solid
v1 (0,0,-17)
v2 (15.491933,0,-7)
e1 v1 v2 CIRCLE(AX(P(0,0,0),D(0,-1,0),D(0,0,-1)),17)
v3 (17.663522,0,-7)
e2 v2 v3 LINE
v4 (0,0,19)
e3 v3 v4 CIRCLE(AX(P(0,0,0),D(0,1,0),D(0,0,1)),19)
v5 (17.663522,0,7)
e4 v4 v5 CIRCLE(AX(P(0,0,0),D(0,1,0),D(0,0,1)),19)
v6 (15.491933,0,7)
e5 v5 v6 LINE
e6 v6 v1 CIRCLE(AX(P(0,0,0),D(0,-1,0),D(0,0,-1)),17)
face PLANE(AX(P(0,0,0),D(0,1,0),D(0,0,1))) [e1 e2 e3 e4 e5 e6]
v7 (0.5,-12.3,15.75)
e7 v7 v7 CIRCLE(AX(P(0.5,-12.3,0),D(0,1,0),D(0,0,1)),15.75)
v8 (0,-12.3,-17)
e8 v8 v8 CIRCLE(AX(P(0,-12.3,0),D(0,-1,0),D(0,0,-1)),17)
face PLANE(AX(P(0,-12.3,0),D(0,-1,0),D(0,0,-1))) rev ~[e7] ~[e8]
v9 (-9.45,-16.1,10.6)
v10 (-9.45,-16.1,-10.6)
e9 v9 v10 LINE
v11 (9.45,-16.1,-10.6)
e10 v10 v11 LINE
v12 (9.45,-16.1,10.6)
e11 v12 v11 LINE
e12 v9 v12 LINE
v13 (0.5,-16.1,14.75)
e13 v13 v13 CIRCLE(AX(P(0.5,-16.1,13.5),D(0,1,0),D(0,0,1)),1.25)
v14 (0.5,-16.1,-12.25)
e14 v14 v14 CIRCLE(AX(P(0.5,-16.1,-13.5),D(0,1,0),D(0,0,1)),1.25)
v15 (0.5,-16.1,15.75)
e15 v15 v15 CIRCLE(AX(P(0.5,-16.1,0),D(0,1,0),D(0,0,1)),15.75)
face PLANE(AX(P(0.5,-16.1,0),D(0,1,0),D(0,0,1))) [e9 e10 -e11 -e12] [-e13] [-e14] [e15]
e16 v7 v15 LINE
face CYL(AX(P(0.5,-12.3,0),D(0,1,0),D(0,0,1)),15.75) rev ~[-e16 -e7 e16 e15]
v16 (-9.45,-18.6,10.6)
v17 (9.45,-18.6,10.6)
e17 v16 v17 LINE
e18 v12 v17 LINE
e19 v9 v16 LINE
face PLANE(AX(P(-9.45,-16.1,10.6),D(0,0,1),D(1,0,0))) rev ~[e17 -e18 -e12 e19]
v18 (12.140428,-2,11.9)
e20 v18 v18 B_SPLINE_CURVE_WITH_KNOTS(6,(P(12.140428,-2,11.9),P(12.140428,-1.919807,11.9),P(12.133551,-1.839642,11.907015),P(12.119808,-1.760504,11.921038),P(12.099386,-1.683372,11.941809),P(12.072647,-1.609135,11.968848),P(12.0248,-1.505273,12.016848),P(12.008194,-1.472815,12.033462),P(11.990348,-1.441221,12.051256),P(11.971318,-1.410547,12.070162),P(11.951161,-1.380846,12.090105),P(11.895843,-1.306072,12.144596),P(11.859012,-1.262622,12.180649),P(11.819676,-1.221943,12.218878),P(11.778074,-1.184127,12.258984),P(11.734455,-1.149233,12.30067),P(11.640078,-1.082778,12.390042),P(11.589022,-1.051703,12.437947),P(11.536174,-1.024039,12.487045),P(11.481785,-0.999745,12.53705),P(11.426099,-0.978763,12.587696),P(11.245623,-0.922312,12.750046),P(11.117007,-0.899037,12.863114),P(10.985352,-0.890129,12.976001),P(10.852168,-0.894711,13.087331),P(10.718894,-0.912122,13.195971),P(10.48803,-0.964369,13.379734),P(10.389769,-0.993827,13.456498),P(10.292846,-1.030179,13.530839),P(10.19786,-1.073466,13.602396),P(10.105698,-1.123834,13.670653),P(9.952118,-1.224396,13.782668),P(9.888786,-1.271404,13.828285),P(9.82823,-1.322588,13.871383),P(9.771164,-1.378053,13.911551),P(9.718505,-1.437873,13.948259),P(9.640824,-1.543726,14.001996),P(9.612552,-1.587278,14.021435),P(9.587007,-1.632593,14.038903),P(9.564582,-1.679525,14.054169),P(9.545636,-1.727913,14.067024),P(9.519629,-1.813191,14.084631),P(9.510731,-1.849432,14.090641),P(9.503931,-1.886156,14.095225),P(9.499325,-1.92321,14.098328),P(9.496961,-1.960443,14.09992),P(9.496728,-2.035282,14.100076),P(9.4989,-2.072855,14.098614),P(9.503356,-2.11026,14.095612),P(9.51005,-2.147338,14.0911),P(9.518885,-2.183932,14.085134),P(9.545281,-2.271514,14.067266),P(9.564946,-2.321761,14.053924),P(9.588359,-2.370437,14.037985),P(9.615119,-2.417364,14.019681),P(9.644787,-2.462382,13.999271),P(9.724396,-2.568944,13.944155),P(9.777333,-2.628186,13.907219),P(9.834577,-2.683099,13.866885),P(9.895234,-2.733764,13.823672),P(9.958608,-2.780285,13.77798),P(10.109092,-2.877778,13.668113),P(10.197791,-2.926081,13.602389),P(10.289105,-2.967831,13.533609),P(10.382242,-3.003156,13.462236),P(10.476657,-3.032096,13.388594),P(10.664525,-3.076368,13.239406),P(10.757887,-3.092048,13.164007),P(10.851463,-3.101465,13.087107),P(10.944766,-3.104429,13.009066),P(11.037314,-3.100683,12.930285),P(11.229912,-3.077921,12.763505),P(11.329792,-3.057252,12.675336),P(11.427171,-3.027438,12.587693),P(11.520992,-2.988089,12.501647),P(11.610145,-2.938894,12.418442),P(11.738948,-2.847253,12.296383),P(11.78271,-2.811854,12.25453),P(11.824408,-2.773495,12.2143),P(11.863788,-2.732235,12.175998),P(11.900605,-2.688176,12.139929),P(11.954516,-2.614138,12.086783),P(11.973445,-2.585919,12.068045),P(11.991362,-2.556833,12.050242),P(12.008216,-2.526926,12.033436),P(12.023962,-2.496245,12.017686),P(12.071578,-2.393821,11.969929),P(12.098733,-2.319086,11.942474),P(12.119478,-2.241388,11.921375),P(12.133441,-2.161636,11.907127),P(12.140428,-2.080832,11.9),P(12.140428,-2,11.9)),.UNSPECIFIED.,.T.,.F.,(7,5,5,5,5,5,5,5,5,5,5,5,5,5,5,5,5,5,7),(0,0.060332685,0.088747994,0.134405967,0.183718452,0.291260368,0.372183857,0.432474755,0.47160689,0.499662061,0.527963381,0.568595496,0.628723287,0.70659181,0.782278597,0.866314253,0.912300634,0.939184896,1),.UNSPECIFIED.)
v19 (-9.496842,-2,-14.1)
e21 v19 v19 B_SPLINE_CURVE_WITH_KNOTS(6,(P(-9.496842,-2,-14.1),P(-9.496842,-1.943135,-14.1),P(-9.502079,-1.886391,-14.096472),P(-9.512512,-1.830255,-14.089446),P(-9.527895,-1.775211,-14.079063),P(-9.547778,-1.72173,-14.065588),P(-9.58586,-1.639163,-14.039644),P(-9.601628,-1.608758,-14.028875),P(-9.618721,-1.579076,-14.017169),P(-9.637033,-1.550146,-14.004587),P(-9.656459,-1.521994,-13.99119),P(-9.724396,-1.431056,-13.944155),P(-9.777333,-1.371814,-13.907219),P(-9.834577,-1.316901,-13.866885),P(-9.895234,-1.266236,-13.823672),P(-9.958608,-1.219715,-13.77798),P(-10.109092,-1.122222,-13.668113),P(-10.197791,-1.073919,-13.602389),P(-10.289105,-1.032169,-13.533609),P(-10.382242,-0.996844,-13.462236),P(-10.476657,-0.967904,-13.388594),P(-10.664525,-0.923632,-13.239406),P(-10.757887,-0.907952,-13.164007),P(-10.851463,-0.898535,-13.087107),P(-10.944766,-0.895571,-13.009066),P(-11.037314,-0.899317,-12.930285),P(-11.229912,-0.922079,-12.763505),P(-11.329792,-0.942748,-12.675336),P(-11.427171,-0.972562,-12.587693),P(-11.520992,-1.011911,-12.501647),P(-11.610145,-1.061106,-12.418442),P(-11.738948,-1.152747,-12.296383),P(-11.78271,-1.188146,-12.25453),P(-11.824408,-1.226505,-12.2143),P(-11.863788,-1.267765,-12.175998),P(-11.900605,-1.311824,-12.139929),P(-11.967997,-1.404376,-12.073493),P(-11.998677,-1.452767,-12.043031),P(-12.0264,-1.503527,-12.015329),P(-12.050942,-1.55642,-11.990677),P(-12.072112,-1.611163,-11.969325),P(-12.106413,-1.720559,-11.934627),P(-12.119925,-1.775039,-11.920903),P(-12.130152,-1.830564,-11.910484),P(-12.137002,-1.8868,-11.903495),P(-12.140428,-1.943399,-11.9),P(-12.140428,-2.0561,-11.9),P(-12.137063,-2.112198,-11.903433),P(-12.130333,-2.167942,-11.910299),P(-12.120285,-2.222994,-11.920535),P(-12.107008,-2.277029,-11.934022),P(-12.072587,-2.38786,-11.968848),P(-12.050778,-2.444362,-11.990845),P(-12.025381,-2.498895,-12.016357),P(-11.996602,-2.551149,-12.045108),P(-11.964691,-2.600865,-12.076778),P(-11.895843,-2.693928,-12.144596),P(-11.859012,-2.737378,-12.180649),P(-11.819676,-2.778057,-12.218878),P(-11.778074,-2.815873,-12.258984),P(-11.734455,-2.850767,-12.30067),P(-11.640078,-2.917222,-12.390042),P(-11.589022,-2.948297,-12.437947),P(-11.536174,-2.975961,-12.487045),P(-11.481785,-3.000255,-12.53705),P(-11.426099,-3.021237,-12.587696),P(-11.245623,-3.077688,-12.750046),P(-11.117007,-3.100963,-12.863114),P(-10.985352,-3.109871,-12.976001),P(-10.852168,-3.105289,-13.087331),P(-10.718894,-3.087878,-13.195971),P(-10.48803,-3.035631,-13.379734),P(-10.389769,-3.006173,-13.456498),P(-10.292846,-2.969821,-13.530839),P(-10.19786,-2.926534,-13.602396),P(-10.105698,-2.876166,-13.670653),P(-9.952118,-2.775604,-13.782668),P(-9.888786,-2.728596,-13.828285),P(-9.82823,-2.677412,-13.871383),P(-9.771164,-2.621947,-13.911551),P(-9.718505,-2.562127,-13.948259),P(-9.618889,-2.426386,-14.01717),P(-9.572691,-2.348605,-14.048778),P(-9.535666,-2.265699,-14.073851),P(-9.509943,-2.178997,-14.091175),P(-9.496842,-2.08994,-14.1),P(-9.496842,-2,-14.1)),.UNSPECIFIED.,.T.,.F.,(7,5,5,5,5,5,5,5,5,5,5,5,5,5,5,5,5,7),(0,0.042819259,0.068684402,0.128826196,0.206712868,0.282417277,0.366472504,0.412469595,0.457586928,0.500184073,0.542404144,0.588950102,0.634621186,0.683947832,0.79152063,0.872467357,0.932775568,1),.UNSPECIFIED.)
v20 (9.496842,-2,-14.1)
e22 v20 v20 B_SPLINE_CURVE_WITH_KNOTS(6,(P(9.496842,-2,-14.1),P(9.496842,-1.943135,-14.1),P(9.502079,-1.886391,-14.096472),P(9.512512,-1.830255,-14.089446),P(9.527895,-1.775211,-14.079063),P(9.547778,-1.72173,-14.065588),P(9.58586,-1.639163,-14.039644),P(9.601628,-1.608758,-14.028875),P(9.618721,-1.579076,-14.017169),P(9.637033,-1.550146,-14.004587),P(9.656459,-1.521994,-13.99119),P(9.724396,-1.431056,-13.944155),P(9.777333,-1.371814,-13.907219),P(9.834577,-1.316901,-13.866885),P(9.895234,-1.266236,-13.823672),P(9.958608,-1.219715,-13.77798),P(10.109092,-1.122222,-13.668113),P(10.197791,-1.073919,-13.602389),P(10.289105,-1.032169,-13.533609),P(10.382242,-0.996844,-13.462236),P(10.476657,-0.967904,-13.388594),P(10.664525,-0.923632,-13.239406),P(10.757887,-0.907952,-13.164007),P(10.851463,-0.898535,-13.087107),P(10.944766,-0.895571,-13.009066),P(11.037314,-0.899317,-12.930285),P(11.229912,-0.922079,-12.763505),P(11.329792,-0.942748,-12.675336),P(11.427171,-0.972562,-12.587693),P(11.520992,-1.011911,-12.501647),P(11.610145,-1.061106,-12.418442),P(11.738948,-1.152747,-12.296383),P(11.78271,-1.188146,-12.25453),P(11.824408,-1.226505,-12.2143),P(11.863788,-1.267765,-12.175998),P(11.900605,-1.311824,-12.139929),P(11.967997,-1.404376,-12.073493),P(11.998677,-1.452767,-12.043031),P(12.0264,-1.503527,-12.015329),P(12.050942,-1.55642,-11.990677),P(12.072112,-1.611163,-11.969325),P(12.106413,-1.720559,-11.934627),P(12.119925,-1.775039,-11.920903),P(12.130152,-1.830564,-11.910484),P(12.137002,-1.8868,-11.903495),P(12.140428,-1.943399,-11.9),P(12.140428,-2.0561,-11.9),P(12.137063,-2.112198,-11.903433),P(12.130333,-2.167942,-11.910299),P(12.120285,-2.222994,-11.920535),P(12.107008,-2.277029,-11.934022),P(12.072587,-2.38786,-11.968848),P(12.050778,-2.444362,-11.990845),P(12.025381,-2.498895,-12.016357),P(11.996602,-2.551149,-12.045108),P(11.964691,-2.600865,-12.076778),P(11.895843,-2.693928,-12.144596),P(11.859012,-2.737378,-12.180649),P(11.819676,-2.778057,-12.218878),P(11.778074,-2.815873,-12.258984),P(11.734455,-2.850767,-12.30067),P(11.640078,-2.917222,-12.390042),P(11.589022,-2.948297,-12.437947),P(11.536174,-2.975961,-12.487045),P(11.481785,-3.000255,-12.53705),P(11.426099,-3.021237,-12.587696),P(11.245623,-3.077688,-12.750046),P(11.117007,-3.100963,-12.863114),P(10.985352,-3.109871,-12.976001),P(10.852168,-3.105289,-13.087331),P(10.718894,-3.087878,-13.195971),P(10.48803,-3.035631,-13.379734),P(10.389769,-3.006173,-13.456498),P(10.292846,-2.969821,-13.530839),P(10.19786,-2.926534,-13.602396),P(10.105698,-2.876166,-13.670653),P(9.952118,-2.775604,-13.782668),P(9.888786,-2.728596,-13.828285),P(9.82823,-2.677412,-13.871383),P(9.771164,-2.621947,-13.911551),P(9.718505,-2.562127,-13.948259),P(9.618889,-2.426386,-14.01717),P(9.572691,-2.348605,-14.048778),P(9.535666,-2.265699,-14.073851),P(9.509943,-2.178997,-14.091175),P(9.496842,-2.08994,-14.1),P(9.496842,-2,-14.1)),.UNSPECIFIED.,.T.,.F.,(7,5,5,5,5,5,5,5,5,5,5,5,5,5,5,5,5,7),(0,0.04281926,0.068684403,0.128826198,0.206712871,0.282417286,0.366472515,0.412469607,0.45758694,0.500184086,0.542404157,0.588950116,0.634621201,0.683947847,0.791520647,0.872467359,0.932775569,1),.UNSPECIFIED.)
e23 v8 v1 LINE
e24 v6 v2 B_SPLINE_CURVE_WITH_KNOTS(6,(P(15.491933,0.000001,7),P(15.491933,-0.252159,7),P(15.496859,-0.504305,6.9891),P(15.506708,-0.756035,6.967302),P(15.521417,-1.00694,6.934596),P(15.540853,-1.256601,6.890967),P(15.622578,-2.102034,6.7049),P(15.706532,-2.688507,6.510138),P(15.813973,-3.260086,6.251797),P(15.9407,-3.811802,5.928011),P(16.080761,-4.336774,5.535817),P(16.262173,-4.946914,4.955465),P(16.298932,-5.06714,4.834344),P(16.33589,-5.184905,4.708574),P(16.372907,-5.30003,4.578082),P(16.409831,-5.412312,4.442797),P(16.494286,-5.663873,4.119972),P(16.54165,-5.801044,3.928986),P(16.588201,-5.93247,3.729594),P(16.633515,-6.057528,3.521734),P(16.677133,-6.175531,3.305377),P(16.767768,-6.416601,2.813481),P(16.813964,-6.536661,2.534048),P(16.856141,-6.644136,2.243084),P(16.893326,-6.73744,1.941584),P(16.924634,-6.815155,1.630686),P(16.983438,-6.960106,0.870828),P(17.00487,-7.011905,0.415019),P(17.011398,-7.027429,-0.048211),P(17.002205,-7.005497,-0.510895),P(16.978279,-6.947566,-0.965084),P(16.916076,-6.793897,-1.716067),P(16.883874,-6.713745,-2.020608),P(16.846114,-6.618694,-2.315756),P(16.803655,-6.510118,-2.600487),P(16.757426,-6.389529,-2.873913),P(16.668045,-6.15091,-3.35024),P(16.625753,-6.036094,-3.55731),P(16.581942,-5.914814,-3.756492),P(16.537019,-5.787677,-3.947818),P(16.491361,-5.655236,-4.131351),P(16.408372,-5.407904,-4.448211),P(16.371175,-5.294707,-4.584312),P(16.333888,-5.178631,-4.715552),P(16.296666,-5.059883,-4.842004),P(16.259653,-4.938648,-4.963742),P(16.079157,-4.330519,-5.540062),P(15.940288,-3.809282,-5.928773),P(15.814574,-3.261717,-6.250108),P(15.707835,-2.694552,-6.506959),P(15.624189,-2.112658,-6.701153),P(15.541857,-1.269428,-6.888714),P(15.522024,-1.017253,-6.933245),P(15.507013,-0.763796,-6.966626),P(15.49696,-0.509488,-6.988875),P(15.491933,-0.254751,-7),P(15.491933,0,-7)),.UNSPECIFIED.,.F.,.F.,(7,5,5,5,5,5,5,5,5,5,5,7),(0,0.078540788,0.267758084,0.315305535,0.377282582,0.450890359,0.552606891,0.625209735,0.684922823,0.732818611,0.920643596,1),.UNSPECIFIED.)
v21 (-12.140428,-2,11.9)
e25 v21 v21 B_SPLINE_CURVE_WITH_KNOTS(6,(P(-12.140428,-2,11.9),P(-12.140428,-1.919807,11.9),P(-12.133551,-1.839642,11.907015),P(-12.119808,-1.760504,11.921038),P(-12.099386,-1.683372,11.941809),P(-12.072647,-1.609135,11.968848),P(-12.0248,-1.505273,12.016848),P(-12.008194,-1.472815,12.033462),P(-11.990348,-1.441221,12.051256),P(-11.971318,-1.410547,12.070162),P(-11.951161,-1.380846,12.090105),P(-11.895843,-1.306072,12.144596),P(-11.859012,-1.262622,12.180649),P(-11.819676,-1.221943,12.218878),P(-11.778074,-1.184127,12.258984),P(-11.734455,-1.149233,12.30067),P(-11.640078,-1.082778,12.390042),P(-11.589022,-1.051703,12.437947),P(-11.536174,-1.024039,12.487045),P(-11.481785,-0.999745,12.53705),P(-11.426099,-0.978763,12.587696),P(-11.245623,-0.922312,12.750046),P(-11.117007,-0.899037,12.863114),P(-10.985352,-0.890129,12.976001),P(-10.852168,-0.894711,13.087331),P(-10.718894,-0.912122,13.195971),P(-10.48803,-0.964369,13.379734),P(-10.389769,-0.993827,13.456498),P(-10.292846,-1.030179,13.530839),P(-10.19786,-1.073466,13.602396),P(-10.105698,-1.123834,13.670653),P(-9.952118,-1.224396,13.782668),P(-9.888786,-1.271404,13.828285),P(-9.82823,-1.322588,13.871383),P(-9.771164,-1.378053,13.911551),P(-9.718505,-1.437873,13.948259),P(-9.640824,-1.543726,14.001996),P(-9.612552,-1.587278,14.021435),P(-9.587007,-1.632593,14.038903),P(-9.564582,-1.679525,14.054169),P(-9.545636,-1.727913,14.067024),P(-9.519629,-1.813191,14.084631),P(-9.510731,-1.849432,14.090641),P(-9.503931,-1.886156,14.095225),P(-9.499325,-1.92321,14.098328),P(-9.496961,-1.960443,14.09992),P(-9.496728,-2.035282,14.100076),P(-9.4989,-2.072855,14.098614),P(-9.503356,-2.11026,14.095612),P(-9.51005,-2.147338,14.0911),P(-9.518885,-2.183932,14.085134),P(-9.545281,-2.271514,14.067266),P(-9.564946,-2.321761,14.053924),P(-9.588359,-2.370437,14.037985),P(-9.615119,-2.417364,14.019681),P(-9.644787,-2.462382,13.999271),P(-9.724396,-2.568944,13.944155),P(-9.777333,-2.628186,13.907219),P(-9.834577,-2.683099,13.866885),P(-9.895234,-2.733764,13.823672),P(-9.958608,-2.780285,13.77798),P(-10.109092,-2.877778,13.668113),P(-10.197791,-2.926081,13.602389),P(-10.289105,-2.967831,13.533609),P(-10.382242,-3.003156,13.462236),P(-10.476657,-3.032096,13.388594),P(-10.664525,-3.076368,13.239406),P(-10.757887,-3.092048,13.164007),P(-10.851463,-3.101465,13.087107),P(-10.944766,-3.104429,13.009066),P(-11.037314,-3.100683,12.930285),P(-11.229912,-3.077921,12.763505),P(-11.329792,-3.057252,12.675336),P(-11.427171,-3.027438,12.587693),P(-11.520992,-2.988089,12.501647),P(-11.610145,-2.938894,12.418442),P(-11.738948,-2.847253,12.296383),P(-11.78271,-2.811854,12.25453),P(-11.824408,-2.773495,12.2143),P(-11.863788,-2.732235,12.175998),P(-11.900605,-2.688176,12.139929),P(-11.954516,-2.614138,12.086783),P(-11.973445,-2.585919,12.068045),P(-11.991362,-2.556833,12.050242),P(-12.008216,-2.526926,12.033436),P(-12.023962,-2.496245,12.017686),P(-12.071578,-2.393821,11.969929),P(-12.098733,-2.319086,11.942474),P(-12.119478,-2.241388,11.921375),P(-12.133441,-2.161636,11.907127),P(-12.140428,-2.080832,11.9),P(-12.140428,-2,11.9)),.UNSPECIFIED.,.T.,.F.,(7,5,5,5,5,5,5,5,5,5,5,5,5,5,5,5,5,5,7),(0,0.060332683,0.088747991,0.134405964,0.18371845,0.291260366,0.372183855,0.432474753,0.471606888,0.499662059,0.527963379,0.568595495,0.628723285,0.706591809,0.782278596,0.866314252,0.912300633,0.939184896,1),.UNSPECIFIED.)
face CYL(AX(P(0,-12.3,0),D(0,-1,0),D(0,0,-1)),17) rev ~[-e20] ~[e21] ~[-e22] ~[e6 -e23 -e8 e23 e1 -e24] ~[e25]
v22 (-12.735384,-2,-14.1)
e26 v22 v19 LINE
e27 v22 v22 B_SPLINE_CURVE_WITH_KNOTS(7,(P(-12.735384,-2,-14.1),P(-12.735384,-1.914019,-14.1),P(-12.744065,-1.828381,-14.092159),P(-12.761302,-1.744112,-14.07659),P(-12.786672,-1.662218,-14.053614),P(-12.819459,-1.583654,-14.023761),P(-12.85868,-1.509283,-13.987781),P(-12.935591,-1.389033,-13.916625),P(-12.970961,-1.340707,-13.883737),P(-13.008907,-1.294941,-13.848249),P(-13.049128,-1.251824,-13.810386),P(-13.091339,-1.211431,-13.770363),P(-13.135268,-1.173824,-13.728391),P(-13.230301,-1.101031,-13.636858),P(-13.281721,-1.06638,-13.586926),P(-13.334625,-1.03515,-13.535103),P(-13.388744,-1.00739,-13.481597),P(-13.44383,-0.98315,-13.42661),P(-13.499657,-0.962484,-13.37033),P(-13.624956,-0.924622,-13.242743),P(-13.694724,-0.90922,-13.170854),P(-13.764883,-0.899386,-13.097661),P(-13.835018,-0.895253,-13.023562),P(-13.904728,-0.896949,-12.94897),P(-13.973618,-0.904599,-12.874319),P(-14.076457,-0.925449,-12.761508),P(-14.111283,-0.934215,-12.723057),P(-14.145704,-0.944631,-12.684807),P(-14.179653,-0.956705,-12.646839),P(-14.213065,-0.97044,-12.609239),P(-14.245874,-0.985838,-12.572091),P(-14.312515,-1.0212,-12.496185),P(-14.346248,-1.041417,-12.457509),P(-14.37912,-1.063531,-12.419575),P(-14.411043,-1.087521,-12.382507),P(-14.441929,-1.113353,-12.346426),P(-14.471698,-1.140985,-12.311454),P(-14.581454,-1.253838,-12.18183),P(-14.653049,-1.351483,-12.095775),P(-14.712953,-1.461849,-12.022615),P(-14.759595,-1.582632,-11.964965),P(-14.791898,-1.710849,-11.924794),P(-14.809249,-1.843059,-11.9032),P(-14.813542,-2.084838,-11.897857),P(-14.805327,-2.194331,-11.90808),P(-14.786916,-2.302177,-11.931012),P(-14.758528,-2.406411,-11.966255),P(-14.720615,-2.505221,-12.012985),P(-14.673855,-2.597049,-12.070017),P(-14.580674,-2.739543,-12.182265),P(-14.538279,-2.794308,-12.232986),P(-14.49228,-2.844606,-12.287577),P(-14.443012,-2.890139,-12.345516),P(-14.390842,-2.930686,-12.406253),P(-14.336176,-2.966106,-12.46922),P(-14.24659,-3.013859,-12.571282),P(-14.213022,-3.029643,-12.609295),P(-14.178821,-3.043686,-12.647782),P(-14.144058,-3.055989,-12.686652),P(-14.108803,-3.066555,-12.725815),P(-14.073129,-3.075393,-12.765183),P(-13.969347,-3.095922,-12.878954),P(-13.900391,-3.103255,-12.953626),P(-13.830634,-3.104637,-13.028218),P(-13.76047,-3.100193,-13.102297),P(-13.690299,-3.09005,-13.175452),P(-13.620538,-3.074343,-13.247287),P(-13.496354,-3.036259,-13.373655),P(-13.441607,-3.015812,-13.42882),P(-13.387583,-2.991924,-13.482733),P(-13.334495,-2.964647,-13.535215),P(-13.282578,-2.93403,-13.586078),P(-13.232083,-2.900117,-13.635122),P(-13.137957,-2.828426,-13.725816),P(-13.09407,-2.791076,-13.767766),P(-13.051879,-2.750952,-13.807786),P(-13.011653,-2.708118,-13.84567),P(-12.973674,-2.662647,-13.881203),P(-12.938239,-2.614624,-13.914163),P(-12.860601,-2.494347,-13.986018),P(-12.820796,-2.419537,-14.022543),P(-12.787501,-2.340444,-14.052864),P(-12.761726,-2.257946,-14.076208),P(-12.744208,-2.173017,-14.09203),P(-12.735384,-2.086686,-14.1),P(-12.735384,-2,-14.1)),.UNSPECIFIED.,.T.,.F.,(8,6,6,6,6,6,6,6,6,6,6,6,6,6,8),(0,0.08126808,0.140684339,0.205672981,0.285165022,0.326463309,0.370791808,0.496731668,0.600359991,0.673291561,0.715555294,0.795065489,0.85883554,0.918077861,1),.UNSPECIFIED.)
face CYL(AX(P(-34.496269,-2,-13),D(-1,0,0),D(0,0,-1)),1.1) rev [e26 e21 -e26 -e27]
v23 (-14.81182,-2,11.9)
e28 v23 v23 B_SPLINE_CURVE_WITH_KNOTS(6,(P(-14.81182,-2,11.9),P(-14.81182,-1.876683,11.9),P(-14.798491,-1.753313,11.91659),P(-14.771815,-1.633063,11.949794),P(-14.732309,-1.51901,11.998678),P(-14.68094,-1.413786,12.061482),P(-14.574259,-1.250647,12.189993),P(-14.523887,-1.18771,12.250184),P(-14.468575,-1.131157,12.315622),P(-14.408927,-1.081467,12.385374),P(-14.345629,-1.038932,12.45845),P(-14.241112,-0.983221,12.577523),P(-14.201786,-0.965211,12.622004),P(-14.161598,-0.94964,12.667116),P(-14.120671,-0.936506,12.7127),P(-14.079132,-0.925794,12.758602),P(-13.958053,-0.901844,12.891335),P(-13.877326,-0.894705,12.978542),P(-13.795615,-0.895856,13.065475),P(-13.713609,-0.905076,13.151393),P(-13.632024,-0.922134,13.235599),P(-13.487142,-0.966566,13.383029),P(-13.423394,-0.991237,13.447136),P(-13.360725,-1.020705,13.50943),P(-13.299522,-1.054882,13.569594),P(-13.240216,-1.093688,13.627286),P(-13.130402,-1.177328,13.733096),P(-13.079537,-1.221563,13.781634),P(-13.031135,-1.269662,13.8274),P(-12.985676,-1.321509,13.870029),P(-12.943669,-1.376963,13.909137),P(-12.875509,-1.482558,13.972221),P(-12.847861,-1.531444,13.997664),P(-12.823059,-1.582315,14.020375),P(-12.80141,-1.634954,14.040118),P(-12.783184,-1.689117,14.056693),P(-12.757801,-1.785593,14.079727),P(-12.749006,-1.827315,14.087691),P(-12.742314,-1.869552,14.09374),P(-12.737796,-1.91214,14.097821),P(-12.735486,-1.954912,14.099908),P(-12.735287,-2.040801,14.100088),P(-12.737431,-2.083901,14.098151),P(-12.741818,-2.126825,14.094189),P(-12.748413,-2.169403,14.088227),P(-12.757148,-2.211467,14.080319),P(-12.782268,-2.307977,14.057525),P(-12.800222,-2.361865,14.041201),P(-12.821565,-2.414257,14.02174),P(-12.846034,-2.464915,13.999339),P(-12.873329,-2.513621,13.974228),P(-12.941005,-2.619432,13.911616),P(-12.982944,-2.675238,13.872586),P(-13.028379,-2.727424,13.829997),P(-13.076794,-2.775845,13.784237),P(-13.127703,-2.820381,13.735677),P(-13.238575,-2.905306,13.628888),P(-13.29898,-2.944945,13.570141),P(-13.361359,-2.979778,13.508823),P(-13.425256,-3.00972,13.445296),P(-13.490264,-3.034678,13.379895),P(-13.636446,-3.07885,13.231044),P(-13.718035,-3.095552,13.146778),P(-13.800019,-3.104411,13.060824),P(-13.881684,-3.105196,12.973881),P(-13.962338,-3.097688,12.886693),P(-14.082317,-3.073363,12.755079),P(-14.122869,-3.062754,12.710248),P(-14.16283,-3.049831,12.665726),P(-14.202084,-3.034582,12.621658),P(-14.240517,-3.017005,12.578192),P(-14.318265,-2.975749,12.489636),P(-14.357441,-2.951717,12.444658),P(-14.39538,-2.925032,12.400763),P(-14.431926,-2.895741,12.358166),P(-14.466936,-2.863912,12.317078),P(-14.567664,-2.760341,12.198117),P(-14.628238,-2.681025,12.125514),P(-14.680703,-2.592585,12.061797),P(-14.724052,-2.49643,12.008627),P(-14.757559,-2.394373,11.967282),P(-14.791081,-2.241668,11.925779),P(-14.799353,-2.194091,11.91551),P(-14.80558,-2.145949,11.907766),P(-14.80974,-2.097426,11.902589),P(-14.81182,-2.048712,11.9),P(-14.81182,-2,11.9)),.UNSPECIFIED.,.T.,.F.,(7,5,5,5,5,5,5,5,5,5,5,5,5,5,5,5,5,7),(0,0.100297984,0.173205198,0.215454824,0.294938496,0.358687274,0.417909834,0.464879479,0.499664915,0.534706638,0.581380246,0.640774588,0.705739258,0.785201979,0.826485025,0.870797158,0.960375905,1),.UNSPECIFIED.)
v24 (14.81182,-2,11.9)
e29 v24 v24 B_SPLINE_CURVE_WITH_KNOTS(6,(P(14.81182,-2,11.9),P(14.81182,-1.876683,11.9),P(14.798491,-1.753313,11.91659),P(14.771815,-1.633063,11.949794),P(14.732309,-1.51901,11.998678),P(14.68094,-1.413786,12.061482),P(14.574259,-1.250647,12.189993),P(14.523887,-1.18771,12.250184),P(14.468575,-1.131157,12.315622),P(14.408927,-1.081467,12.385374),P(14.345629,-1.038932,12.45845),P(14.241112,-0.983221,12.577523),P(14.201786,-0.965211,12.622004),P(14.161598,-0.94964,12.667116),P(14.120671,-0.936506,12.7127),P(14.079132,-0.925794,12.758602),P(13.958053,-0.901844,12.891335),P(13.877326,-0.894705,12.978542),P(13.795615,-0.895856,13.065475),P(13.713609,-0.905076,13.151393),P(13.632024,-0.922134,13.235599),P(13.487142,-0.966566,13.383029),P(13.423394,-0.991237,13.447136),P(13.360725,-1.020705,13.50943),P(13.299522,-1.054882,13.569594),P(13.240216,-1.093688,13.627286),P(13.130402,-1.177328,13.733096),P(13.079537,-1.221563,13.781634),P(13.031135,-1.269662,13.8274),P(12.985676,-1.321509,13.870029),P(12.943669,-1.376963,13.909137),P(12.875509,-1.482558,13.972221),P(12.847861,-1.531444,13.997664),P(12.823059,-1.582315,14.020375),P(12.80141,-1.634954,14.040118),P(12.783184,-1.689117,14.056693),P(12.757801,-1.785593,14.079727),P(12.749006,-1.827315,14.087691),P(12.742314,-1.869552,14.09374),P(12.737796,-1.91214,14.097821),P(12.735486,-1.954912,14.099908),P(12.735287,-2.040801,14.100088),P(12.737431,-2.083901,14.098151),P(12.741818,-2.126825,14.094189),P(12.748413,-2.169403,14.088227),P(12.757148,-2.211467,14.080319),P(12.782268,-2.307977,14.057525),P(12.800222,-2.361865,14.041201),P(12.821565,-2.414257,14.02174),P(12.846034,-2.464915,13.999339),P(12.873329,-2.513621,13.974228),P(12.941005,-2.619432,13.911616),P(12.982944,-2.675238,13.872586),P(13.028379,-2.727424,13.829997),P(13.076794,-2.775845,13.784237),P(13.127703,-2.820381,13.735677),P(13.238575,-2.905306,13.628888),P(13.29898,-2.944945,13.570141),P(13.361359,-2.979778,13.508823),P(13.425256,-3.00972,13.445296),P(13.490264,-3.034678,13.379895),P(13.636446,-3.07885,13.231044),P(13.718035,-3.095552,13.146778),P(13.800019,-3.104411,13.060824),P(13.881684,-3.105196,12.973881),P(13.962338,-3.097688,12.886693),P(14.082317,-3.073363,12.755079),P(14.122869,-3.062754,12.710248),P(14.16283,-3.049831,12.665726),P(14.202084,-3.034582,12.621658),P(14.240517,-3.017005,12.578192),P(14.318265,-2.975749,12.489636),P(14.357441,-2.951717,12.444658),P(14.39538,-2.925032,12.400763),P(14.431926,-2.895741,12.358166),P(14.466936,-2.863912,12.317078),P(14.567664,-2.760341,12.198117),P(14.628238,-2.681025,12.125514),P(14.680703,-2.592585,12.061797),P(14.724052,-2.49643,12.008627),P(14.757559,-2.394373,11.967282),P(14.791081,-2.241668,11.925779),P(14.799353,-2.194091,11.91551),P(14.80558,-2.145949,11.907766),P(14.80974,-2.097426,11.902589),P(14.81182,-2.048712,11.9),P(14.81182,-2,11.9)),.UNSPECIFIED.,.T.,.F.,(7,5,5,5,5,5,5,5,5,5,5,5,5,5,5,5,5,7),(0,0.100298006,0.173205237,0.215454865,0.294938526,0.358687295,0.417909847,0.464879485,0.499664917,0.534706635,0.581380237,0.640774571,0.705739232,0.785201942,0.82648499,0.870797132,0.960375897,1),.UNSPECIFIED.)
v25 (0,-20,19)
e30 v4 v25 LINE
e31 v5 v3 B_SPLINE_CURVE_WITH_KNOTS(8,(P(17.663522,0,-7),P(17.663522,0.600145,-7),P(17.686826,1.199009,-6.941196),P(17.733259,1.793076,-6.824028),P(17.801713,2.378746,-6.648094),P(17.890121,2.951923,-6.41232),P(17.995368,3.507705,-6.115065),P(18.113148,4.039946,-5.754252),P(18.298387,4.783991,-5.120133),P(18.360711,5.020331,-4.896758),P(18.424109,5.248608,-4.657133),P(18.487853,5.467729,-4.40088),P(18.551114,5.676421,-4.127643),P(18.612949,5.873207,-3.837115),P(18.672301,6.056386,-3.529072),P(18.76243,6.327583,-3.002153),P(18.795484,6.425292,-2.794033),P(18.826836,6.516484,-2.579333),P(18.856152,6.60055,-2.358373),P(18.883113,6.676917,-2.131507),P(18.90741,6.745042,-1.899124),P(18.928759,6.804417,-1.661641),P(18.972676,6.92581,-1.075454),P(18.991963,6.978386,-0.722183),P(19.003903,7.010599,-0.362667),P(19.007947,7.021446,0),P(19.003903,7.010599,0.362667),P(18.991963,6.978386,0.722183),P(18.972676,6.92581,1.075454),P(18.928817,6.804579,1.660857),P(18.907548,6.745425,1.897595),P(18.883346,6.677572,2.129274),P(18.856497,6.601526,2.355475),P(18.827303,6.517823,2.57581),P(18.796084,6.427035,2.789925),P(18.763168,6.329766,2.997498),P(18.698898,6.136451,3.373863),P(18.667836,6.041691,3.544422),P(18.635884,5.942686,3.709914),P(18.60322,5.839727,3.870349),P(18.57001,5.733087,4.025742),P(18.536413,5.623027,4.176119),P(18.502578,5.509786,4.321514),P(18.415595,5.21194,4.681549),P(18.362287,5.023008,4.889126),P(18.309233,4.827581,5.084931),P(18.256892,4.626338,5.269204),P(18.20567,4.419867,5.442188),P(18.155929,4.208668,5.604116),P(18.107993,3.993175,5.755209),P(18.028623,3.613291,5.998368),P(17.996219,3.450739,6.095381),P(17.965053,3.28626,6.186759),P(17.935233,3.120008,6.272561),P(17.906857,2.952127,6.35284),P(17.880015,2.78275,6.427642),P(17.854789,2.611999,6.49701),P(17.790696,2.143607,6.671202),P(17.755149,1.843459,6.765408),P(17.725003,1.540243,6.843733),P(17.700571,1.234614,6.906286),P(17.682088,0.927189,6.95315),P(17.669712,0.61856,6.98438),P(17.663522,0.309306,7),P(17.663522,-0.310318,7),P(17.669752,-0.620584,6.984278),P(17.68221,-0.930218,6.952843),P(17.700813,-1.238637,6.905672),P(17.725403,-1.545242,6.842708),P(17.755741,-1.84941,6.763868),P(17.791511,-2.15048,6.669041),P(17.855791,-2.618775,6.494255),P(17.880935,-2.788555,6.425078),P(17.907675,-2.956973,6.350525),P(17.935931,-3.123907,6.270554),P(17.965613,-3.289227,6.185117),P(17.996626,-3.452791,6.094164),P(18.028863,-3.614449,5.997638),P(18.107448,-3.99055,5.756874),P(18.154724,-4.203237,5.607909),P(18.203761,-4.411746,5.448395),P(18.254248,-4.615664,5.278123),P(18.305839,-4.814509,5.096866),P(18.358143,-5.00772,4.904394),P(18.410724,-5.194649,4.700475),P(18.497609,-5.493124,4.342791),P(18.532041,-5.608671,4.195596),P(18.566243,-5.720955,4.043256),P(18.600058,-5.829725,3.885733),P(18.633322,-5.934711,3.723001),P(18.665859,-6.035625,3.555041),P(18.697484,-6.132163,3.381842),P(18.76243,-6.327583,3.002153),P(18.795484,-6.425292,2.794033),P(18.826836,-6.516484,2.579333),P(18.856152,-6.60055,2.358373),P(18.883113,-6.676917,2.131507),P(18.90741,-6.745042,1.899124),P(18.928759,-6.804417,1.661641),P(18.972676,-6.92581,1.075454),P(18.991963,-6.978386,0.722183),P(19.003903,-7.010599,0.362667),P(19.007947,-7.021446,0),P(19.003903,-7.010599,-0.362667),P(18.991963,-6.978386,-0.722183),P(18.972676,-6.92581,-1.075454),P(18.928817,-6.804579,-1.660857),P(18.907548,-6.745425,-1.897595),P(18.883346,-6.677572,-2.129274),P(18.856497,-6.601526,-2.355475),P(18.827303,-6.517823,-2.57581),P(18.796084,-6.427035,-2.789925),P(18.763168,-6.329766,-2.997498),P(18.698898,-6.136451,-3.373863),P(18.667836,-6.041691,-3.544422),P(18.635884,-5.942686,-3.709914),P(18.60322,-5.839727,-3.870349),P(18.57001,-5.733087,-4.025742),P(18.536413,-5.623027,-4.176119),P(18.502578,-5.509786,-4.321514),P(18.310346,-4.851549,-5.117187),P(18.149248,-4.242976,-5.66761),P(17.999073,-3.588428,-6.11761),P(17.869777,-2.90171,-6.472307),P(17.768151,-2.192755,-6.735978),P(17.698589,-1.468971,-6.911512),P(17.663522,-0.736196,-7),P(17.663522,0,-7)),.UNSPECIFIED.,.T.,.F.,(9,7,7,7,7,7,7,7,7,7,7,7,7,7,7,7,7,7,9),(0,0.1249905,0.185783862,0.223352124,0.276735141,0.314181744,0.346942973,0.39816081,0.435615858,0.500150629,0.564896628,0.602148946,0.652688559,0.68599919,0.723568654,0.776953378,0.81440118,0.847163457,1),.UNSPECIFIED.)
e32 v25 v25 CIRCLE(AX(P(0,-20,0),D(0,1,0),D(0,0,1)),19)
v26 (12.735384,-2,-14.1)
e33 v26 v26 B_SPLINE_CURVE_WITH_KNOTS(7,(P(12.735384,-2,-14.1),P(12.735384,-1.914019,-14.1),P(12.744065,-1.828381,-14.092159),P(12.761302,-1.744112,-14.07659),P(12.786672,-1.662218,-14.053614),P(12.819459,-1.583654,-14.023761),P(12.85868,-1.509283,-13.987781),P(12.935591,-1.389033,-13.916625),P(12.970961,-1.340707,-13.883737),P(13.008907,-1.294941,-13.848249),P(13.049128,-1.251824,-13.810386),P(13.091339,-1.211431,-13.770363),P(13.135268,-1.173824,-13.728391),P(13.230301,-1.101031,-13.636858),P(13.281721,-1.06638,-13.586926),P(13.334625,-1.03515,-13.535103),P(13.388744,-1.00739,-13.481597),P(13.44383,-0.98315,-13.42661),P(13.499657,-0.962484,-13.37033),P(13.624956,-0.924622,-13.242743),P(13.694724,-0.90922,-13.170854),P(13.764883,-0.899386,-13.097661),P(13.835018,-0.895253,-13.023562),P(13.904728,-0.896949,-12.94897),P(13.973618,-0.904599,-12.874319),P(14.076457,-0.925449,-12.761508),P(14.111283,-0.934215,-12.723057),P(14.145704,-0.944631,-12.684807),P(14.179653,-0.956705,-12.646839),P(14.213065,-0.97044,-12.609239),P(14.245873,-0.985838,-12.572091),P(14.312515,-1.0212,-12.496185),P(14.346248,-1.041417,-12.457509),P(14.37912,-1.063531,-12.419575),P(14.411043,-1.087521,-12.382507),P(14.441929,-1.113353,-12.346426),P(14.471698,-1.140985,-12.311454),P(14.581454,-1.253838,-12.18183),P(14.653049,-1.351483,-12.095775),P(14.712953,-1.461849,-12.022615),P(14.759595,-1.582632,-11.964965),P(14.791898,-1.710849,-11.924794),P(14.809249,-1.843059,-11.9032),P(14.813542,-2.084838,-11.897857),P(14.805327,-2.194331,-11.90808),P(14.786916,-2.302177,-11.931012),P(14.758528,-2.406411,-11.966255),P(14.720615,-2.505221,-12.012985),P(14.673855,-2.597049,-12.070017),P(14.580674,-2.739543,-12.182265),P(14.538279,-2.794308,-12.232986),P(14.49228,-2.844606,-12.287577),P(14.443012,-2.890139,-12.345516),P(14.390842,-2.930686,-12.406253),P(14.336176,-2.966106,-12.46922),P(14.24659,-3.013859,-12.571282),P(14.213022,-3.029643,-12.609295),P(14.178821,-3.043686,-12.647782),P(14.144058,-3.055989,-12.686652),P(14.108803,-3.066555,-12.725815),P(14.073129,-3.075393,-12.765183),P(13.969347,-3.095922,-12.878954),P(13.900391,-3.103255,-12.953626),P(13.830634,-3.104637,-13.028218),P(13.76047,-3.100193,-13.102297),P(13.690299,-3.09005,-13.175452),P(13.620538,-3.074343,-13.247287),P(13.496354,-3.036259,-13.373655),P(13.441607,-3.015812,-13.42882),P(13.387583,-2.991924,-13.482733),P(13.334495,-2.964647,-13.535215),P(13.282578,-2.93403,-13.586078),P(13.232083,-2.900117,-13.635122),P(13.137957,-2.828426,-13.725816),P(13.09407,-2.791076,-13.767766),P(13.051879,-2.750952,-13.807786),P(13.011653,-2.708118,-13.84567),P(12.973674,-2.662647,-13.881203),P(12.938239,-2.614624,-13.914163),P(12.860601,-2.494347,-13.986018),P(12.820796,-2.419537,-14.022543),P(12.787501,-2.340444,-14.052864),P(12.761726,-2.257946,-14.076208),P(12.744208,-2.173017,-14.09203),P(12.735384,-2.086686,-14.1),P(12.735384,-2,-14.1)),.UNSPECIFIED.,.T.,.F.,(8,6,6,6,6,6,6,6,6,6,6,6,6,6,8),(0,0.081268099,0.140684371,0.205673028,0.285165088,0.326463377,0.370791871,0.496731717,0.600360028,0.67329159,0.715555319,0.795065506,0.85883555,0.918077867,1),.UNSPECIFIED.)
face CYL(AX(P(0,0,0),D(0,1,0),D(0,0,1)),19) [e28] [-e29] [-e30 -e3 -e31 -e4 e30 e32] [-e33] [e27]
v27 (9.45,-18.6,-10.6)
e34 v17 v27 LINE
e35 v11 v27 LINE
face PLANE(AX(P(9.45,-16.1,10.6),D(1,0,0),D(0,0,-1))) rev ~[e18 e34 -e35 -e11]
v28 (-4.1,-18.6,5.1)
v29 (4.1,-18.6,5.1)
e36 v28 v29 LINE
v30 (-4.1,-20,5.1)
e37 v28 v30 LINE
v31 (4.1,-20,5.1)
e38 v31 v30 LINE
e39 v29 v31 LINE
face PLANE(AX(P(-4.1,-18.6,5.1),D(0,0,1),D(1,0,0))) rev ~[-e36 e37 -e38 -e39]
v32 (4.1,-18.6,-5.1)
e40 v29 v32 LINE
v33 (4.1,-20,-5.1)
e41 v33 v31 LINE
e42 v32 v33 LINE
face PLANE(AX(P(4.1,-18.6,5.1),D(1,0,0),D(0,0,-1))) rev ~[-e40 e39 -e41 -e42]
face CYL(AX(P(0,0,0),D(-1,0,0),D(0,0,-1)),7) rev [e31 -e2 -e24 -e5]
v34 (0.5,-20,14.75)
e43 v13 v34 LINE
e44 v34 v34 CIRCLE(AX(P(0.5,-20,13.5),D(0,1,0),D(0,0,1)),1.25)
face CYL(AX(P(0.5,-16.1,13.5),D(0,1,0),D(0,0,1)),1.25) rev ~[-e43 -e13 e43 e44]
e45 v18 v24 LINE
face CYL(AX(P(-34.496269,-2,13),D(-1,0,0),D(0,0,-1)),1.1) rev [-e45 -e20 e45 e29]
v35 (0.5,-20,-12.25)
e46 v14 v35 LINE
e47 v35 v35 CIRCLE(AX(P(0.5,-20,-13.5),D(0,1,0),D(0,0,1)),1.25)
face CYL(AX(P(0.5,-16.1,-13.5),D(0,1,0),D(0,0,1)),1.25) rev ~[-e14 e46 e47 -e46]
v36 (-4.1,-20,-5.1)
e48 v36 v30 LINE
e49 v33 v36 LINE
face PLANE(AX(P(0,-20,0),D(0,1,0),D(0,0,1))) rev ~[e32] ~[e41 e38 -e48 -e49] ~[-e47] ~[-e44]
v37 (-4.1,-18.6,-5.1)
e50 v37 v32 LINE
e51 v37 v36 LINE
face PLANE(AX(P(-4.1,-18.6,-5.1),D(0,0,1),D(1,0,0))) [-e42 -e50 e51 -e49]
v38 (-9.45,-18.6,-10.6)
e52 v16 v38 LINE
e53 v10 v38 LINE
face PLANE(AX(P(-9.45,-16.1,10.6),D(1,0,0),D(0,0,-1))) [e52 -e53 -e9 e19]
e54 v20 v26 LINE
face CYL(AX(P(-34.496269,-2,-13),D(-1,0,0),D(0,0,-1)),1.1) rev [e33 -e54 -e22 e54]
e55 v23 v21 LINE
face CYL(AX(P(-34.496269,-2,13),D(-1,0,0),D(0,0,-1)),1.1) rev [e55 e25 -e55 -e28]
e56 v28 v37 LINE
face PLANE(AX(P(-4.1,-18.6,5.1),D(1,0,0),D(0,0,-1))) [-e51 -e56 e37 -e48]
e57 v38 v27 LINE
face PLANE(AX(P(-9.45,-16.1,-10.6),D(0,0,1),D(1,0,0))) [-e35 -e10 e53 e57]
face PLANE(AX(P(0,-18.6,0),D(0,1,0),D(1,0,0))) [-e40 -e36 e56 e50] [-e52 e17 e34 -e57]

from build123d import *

# Parameters (mm, degrees)
SKETCH3_R                            = 19
MAIN_BODY_DEPTH                      = 20
CUT_START                            = -7.7
SKETCH5_R                            = 17
CUT_FOR_HEADERS_DEPTH                = 26.796268449
CUT_FOR_ADNS_WIRES_REACH             = 35.496
CUT_FOR_ADNS_WIRES_END_RADIUS        = 19
SKETCH7_R                            = 7
SKETCH8_R                            = 15.75
CUT_FOR_PCB_DEPTH                    = 3.8
SKETCH9_R                            = 1.25
CUT_FOR_SCREW_HOLES_DEPTH            = 5
SKETCH10_W                           = 18.9
SKETCH10_H                           = 21.2
CUT_FOR_LENS_DEPTH                   = 2.5
CUT_FOR_PUPIL_REACH                  = 34.68
SKETCH11_W                           = 8.2
SKETCH11_H                           = 10.2
CUTS_FOR_BODY_SCREW_HOLES_DEPTH      = 34.496268622
CUTS_FOR_BODY_SCREW_HOLES_DEPTH_BACK = 34.496268622
SKETCH13_R                           = 1.1


with BuildPart() as part:
    # Sketch3 → Main Body (new body)
    with BuildSketch(Plane(origin=(0, 0, 0), x_dir=(1, 0, 0), z_dir=(0, 1, 0))):
        with Locations(Location((0, 0, 0), (0, 0, 270))):
            Circle(SKETCH3_R)
    extrude(amount=-MAIN_BODY_DEPTH)

    # Sketch5 → Cut for Headers (cut, through all)
    with BuildSketch(Plane.XZ.offset(20).offset(CUT_START)):
        with Locations(Location((0, 0, 0), (0, 0, 270))):
            Circle(SKETCH5_R)
    extrude(amount=-CUT_FOR_HEADERS_DEPTH, mode=Mode.SUBTRACT)

    # Cut for ADNS Wires: up to this cylinder (the profile starts inside it)
    cut_for_adns_wires_end = Plane(origin=(0, 0, 0), z_dir=(0, 1, 0)) * Cylinder(CUT_FOR_ADNS_WIRES_END_RADIUS, 109.992, mode=Mode.PRIVATE)
    # Sketch7 → Cut for ADNS Wires (cut, up to the surface)
    with BuildSketch(Plane(origin=(0, 0, 0), x_dir=(0, 0, -1), z_dir=(1, 0, 0)), mode=Mode.PRIVATE) as cut_for_adns_wires_sk1:
        Circle(SKETCH7_R)
    cut_for_adns_wires_tool1 = extrude(cut_for_adns_wires_sk1.sketch, amount=CUT_FOR_ADNS_WIRES_REACH, mode=Mode.PRIVATE) & cut_for_adns_wires_end
    add(cut_for_adns_wires_tool1.solids().sort_by_distance((0, 0, 0))[0], mode=Mode.SUBTRACT)

    # Sketch8 → Cut for PCB (cut)
    with BuildSketch(Plane(origin=(0, -12.3, 0), x_dir=(1, 0, 0), z_dir=(0, 1, 0))):
        with Locations(Location((0.5, 0, 0), (0, 0, 270))):
            Circle(SKETCH8_R)
    extrude(amount=-CUT_FOR_PCB_DEPTH, mode=Mode.SUBTRACT)

    # Sketch9 → Cut for Screw Holes (cut)
    with BuildSketch(Plane(origin=(0, -16.1, 0), x_dir=(1, 0, 0), z_dir=(0, 1, 0))):
        with Locations(Location((0.5, 13.5, 0), (0, 0, 270))):
            Circle(SKETCH9_R)
        with Locations(Location((0.5, -13.5, 0), (0, 0, 270))):
            Circle(SKETCH9_R)
    extrude(amount=-CUT_FOR_SCREW_HOLES_DEPTH, mode=Mode.SUBTRACT)

    # Sketch10 → Cut for Lens (cut)
    with BuildSketch(Plane(origin=(0, -16.1, 0), x_dir=(1, 0, 0), z_dir=(0, 1, 0))):
        Rectangle(SKETCH10_W, SKETCH10_H)
    extrude(amount=-CUT_FOR_LENS_DEPTH, mode=Mode.SUBTRACT)

    # Sketch11 → Cut for Pupil (cut, up to next)
    with BuildSketch(Plane(origin=(0, -18.6, 0), x_dir=(1, 0, 0), z_dir=(0, 1, 0)), mode=Mode.PRIVATE) as cut_for_pupil_sk1:
        Rectangle(SKETCH11_W, SKETCH11_H)
    cut_for_pupil_tool1 = extrude(cut_for_pupil_sk1.sketch, amount=-CUT_FOR_PUPIL_REACH, mode=Mode.PRIVATE) & part.part
    add(cut_for_pupil_tool1.solids().sort_by_distance((0, -18.6, 0))[0], mode=Mode.SUBTRACT)

    # Sketch13 → Cuts for Body Screw Holes (cut, two sides: drawn at the far end of the back side and taken through both)
    with BuildSketch(Plane(origin=(0, 0, 0), x_dir=(0, 0, -1), z_dir=(1, 0, 0)).offset(-CUTS_FOR_BODY_SCREW_HOLES_DEPTH_BACK)):
        with Locations((13, -2)):
            Circle(SKETCH13_R)
        with Locations((-13, -2)):
            Circle(SKETCH13_R)
    extrude(amount=CUTS_FOR_BODY_SCREW_HOLES_DEPTH + CUTS_FOR_BODY_SCREW_HOLES_DEPTH_BACK, mode=Mode.SUBTRACT)


solid = part.part
